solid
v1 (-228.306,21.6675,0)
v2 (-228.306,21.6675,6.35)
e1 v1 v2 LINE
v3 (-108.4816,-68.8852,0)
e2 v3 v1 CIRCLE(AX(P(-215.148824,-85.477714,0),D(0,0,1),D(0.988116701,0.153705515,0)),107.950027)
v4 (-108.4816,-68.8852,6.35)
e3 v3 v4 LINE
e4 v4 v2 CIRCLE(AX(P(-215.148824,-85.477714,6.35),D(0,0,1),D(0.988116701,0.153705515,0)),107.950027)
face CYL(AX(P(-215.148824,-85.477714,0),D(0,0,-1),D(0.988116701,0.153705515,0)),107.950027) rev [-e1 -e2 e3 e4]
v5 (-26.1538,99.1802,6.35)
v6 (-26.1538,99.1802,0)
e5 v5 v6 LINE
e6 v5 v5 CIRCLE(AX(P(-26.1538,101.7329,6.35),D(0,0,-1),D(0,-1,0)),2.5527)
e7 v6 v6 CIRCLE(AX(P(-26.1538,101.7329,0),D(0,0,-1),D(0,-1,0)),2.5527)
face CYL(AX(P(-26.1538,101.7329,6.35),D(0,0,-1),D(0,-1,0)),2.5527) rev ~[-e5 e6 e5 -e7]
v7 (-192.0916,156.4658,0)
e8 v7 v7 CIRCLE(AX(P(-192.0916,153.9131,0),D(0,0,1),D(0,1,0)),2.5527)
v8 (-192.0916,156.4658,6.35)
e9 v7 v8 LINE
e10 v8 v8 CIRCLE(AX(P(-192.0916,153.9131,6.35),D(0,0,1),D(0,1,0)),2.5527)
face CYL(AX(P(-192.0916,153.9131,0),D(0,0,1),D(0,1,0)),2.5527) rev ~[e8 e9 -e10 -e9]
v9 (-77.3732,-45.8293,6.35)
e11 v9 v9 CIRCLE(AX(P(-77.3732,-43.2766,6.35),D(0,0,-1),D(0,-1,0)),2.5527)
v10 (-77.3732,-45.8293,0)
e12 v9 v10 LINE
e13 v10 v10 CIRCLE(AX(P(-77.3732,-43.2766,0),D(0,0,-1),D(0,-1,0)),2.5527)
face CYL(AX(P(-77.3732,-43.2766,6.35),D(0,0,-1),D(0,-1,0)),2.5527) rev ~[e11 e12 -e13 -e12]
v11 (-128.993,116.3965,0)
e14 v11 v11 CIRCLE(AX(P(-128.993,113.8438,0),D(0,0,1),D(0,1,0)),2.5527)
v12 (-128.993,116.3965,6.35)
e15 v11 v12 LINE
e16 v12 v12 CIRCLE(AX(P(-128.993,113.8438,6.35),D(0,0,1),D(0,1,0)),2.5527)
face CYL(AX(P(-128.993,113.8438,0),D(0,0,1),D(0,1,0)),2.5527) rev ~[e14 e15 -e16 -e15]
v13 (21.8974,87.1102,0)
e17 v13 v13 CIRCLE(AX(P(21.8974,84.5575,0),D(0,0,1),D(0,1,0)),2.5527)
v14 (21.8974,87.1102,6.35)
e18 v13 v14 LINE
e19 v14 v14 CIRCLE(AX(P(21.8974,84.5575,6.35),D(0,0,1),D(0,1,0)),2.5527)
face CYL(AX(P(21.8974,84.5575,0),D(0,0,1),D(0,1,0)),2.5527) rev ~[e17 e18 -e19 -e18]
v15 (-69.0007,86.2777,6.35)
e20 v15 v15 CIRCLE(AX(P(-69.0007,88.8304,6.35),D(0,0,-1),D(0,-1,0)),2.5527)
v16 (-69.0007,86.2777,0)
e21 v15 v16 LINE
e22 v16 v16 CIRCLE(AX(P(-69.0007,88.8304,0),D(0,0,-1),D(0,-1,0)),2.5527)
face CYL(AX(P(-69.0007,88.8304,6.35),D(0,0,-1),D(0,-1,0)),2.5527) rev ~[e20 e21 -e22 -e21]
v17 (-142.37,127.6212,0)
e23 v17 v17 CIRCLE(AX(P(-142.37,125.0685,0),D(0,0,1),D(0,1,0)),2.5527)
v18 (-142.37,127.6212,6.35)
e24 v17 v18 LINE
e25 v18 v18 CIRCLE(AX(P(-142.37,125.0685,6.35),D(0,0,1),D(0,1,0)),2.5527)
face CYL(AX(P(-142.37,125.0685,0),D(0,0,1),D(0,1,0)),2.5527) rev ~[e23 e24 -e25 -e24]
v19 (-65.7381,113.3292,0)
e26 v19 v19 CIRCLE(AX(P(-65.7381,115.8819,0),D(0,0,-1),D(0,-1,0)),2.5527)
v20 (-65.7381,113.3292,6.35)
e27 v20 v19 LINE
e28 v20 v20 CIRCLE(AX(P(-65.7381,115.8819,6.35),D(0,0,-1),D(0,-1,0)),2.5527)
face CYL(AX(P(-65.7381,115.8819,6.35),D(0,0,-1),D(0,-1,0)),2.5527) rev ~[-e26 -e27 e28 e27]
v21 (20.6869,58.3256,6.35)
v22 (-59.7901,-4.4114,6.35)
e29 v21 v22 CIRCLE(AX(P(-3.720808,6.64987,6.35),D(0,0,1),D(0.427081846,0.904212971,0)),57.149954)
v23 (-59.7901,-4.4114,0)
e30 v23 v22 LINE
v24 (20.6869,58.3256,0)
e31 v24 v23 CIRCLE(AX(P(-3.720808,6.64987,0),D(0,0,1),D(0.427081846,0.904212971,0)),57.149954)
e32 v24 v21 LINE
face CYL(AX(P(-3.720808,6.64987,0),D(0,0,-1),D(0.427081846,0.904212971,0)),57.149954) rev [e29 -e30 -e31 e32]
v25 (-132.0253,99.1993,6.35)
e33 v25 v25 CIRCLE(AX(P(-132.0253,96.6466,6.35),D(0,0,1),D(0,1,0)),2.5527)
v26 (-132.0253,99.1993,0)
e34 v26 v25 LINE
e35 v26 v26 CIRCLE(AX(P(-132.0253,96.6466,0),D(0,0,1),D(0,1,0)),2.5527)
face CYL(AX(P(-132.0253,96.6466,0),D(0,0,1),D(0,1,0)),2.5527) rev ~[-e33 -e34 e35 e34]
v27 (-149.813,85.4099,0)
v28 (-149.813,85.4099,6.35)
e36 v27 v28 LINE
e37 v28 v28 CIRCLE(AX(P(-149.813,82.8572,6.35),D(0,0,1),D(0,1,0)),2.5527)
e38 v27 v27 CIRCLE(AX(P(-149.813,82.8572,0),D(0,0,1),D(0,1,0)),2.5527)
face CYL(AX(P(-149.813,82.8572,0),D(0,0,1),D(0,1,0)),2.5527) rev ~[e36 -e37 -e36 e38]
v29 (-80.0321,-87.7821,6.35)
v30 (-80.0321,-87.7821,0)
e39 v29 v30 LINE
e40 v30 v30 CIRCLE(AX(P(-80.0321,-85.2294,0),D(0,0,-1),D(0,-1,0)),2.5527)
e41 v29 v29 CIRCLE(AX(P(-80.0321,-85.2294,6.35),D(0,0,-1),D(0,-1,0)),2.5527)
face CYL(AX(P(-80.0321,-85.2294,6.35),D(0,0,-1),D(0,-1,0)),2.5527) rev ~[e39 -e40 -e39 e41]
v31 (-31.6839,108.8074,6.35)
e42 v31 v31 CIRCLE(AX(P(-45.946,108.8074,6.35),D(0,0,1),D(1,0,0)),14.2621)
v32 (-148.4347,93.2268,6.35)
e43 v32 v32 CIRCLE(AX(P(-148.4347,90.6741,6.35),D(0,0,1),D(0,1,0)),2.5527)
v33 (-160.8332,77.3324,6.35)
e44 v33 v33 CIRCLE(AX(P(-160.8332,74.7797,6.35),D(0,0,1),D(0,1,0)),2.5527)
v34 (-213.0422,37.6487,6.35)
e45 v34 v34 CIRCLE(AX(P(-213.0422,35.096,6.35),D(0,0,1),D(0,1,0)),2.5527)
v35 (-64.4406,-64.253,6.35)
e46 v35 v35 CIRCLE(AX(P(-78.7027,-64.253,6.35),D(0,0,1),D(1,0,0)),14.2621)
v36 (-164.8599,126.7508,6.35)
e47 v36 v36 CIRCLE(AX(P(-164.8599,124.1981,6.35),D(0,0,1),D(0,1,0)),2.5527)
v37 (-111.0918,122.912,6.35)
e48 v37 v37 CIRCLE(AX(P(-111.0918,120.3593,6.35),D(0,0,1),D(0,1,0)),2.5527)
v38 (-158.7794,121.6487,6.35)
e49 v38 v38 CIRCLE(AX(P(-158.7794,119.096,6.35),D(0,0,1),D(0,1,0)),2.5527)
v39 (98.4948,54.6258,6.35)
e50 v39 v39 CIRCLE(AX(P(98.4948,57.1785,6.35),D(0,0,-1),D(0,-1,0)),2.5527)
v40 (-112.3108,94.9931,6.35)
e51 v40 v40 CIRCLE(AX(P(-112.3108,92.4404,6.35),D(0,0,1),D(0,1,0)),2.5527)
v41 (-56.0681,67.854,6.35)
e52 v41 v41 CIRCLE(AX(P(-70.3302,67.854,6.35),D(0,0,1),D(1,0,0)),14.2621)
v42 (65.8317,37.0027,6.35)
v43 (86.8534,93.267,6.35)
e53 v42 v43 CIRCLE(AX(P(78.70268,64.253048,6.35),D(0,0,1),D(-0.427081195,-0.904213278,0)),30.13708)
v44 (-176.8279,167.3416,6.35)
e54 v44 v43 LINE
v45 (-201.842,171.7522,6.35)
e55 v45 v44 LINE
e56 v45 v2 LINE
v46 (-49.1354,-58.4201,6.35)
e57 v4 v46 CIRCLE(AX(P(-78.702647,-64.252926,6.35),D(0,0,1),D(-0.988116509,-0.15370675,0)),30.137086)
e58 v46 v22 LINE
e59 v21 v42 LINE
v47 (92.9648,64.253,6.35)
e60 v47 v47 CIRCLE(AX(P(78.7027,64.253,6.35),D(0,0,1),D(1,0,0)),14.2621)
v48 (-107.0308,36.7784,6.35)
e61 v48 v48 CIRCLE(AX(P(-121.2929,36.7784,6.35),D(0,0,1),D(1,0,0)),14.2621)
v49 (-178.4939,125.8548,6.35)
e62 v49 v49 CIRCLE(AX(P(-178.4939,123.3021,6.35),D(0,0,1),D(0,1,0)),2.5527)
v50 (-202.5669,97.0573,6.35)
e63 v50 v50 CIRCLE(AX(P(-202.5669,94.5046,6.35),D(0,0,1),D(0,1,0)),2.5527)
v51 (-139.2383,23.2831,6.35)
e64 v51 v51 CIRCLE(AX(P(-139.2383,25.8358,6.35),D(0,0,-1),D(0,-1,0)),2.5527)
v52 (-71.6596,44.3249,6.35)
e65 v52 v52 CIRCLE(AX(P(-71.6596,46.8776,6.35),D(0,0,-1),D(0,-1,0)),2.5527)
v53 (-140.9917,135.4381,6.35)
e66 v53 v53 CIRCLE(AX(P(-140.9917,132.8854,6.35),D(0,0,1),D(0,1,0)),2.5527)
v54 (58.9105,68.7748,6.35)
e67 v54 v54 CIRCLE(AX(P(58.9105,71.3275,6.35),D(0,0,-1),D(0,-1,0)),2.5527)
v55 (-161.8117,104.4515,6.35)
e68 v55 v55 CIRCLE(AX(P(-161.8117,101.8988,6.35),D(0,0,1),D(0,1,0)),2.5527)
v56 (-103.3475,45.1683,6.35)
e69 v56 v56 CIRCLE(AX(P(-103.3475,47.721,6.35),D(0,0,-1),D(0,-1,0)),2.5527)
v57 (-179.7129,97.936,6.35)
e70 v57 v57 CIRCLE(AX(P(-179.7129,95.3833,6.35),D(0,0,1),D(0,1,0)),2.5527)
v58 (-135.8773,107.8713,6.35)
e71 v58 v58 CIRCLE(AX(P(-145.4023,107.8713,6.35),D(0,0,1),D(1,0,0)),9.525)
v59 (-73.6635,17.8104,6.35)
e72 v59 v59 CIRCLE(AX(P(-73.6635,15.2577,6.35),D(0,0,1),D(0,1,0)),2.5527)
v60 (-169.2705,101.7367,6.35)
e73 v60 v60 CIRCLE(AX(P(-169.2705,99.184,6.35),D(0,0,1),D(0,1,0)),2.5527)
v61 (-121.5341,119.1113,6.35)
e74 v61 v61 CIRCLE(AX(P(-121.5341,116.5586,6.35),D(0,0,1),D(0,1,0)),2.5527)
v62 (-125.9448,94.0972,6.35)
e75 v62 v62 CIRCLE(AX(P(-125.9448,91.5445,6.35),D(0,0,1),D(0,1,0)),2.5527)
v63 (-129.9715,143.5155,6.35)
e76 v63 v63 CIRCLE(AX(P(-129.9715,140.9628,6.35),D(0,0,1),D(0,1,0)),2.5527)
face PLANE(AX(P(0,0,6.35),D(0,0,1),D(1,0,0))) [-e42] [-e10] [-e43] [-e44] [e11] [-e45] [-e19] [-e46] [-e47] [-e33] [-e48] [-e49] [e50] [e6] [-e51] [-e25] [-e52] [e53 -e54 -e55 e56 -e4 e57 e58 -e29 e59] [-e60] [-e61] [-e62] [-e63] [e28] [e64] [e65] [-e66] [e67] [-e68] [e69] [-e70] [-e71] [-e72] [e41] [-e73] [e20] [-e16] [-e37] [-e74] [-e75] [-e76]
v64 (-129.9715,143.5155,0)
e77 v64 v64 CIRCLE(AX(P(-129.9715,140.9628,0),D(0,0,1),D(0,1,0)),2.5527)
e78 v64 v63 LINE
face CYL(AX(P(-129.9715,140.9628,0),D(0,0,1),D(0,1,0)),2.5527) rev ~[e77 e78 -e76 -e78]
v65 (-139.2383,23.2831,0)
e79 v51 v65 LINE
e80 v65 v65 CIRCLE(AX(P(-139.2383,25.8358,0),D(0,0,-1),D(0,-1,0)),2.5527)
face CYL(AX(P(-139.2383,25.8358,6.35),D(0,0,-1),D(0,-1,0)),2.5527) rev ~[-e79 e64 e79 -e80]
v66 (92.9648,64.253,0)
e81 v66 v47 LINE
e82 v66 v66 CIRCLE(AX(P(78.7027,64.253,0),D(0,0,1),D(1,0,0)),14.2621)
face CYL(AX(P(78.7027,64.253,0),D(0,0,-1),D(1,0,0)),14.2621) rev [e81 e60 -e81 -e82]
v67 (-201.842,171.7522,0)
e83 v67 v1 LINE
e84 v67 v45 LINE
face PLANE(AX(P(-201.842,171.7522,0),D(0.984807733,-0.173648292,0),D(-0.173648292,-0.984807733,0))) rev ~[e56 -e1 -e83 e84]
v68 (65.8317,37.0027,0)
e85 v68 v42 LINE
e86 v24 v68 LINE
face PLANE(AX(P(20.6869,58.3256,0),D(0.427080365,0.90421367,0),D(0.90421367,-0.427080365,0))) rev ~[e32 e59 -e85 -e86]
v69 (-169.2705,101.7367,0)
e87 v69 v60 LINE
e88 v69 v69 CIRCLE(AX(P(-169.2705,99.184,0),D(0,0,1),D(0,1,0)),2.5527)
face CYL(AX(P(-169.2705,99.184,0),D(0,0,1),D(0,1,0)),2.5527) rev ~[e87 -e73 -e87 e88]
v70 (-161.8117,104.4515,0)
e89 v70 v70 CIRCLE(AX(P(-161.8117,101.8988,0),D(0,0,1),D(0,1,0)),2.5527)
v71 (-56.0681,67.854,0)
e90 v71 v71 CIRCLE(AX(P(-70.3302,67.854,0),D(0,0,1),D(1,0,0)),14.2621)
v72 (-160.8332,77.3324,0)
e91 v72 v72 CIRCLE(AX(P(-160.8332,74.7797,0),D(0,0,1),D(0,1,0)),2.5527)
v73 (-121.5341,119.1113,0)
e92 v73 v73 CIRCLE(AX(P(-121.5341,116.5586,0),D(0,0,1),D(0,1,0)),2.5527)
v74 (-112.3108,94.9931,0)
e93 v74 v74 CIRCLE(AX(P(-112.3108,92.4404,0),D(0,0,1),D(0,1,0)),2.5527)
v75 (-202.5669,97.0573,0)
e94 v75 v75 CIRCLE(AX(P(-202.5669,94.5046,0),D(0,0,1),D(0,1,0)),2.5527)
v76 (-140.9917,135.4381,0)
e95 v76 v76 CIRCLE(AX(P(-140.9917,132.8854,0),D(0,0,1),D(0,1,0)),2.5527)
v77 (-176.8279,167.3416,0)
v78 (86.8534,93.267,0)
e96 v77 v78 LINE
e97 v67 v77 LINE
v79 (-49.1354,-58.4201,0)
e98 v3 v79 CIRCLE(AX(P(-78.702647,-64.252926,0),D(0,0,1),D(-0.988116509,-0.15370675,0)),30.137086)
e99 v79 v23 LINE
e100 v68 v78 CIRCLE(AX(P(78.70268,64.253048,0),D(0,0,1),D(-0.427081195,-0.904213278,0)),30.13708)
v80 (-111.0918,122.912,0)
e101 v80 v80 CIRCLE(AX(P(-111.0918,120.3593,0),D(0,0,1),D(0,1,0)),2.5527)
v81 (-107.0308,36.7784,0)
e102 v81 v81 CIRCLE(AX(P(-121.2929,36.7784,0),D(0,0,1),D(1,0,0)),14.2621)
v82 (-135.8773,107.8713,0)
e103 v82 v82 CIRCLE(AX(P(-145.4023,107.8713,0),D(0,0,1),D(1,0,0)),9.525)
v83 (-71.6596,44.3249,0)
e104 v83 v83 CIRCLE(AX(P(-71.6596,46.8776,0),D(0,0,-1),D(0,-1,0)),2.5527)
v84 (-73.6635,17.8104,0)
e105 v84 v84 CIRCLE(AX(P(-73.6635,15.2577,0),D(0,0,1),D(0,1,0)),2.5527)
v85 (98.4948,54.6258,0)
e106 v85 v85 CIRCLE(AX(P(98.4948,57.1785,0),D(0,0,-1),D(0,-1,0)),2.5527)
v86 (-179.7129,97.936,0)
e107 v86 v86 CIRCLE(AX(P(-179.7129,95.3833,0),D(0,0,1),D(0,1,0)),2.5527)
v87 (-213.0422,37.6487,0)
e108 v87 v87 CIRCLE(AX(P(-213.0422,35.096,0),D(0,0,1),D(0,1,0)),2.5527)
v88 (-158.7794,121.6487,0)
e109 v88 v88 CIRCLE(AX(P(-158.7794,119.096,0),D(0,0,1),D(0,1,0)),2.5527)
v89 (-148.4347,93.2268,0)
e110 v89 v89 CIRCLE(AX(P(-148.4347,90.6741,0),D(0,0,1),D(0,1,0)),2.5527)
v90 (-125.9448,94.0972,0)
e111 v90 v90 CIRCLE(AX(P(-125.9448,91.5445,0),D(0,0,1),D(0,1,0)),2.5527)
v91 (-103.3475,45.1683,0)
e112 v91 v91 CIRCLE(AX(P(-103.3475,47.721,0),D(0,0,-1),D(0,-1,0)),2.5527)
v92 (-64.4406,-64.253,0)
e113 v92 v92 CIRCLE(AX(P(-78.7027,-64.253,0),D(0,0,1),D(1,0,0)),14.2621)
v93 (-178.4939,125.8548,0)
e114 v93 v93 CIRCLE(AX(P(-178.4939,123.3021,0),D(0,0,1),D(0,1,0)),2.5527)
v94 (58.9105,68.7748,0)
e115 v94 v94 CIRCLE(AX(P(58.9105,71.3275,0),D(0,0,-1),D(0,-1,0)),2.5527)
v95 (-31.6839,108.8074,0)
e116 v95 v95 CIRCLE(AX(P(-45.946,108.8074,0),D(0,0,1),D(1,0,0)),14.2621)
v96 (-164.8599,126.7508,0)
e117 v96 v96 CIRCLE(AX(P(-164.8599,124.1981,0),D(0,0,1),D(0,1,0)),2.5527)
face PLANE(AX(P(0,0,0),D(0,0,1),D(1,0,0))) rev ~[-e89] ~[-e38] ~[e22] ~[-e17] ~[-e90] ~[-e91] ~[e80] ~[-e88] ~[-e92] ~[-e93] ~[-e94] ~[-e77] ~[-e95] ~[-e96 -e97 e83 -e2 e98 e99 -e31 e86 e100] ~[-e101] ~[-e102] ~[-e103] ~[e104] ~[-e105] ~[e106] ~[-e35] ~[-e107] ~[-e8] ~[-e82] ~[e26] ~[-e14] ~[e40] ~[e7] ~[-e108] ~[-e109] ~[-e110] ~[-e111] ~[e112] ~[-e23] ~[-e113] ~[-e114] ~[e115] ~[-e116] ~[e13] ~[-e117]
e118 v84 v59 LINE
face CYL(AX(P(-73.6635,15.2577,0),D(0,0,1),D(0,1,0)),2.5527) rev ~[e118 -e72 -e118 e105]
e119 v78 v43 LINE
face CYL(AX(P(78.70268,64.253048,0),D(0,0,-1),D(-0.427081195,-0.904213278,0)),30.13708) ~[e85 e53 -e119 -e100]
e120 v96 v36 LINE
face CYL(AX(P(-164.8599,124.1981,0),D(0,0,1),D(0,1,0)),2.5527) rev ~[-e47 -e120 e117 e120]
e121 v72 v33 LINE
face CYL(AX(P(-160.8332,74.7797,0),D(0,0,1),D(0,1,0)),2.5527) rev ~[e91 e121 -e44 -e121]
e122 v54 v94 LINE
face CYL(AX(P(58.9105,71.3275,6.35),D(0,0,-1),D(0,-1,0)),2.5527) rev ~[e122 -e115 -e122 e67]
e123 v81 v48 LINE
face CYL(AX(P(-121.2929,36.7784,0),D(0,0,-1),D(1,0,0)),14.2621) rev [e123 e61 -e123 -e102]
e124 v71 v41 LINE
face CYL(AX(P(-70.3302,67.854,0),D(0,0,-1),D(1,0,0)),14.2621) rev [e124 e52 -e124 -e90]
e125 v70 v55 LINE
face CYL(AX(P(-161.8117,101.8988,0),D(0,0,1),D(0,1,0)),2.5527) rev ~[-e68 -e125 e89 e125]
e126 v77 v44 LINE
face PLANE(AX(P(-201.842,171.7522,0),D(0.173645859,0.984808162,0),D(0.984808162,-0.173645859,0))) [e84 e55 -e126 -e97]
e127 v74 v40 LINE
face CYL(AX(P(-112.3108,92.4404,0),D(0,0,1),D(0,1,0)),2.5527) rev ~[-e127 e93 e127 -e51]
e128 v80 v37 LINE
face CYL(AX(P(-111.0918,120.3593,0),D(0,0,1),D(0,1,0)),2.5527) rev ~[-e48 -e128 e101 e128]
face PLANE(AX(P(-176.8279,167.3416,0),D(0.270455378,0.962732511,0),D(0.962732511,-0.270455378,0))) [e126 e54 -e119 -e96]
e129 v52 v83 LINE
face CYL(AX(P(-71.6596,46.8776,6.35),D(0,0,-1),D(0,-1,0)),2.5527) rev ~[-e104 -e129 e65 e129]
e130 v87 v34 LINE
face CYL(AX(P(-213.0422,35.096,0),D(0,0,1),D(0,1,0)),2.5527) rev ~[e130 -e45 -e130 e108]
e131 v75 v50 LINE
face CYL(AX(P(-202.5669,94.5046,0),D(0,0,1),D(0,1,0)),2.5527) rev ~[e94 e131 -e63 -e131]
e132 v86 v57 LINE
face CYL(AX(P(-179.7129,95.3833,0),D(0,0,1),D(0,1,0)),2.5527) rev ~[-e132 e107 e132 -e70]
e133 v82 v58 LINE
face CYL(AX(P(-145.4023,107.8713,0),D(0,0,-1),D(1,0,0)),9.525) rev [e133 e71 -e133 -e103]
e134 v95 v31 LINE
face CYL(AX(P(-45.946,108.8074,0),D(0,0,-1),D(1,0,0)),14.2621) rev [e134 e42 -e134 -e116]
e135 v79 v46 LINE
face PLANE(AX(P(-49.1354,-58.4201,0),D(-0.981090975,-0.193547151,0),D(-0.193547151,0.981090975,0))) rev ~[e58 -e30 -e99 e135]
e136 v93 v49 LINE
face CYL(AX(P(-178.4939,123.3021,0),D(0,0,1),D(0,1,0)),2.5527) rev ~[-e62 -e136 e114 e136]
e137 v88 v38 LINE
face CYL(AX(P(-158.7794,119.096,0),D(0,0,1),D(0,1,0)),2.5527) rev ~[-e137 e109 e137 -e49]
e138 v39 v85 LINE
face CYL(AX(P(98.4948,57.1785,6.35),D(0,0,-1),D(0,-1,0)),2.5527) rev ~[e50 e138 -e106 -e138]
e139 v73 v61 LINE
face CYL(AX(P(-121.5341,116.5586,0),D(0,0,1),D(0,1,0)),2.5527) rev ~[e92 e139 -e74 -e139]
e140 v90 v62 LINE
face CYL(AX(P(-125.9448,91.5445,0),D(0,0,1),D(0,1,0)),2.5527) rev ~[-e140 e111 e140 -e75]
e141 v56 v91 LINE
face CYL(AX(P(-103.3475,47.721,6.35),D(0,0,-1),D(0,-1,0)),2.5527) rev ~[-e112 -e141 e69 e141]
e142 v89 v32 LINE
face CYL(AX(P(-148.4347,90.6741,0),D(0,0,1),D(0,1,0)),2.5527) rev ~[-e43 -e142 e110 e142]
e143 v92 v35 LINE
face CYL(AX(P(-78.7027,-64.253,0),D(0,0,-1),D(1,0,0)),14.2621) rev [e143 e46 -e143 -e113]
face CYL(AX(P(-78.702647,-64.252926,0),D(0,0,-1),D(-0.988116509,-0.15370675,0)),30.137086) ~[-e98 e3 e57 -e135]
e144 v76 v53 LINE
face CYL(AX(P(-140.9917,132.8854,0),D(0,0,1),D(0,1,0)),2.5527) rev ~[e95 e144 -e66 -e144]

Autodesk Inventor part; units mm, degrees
ref_plane "YZ Plane" through (0, 0, 0) normal (1, 0, 0) x (0, 1, 0)
ref_plane "XZ Plane" through (0, 0, 0) normal (0, 1, 0) x (-1, 0, 0)
ref_plane "XY Plane" through (0, 0, 0) normal (0, 0, 1) x (1, 0, 0)
sketch "Sketch1" plane through (0, 0, 0) normal (0, 0, 1) x (1, 0, 0)
  circle A0 centre (78.7027, 64.253) radius 50.8 construction
  circle A1 centre (-78.7027, -64.253) radius 50.8 construction
  circle A2 centre (0, 0) radius 50.8 construction
  line L0 (-39.3513, -32.1265) -> (39.3513, 32.1265) construction
  line L1 (78.7027, 64.253) -> (-78.7027, -64.253) construction
  line L2 (-3.7208, 6.6498) -> (-3.7208, 50.6636) construction
  line L3 (-410.4212, -115.053) -> (454.9708, -115.053) construction
  circle A3 centre (140.9799, -57.903) radius 57.15 construction
  circle A4 centre (78.7027, 64.253) radius 14.2621
  circle A5 centre (-78.7027, -64.253) radius 14.2621
  circle A6 centre (-3.7208, 6.6498) radius 57.15 construction
  circle A7 centre (-78.7027, -64.253) radius 30.1371 construction
  circle A8 centre (78.7027, 64.253) radius 30.1371 construction
  circle A9 centre (-45.946, 108.8074) radius 14.2621
  line L4 (-45.946, 108.8074) -> (78.7027, 64.253) construction
  circle A10 centre (78.7027, 64.253) radius 14.2875 construction
  circle A11 centre (-78.7027, -64.253) radius 14.2875 construction
  circle A12 centre (-70.3302, 67.854) radius 14.2621
  line L5 (-78.7027, -64.253) -> (-70.3302, 67.854) construction
  circle A13 centre (-70.3302, 67.854) radius 23.8316 construction
  circle A14 centre (-45.946, 108.8074) radius 23.8316 construction
  line L6 (20.6869, 58.3256) -> (65.8317, 37.0027)
  line L7 (-49.1354, -58.4201) -> (-59.7901, -4.4114)
  arc A15 (20.6869, 58.3256) -> (-59.7901, -4.4114) centre (-3.7208, 6.6498) ccw
  line L8 (-201.842, 171.7522) -> (-176.8279, 167.3416)
  line L9 (-176.8279, 167.3416) -> (-203.2918, 17.2569) construction
  line L10 (-203.2918, 17.2569) -> (-228.306, 21.6675) construction
  line L11 (-228.306, 21.6675) -> (-201.842, 171.7522) construction
  line L12 (-247.3095, -86.1068) -> (28.2095, -134.6882) construction
  line L13 (-202.9446, 165.4987) -> (190.461, 96.1307) construction
  line L14 (-202.9446, 165.4987) -> (-247.3095, -86.1068) construction
  circle A16 centre (-145.4023, 107.8713) radius 31.75 construction
  line L15 (-71.8375, 44.0702) -> (-75.4896, -13.5547) construction
  circle A17 centre (21.8974, 84.5575) radius 9.525 construction
  line L16 (-189.3349, 169.5469) -> (-215.7989, 19.4622) construction
  line L17 (-192.0916, 153.9131) -> (-213.0422, 35.096) construction
  circle A18 centre (-145.4023, 107.8713) radius 17.4625 construction
  circle A19 centre (-145.4023, 107.8713) radius 9.525
  circle A20 centre (-45.946, 108.8074) radius 30.1816 construction
  line L18 (-201.842, 171.7522) -> (-228.306, 21.6675)
  arc A21 (65.8317, 37.0027) -> (86.8534, 93.267) centre (78.7027, 64.253) ccw
  arc A22 (-108.4816, -68.8852) -> (-49.1354, -58.4201) centre (-78.7027, -64.253) ccw
  line L19 (-145.4023, 107.8713) -> (-128.993, 113.8438) construction
  line L20 (-111.0918, 120.3593) -> (-179.7129, 95.3833) construction
  circle A23 centre (-179.7129, 95.3833) radius 4.7625 construction
  line L21 (0, 0) -> (-3.7208, 6.6498) construction
  circle A24 centre (78.7027, 64.253) radius 28.6512 construction
  line L22 (66.1835, 38.4817) -> (-52.1778, 95.9789) construction
  line L23 (85.3564, 92.1209) -> (-42.6339, 122.6796) construction
  line L24 (-176.8279, 167.3416) -> (86.8534, 93.267)
  line L25 (-145.4023, 107.8713) -> (-121.2929, 36.7784) construction
  circle A25 centre (-121.2929, 36.7784) radius 31.75 construction
  circle A26 centre (-121.2929, 36.7784) radius 14.2621
  line L26 (-70.3302, 67.854) -> (-121.2929, 36.7784) construction
  circle A27 centre (-145.4023, 107.8713) radius 25.4 construction
  arc A28 (-108.4816, -68.8852) -> (-228.306, 21.6675) centre (-215.1488, -85.4777) ccw
  circle A29 centre (-145.4023, 107.8713) radius 36.5125 construction
  line L27 (-178.4939, 123.3021) -> (-145.4023, 107.8713) construction
  point P0 (-73.6635, 15.2577)
  point P1 (-202.5669, 94.5046)
  point P2 (-202.5669, 94.5046)
  point P3 (-142.37, 125.0685)
  point P4 (-158.7794, 119.096)
  point P5 (-161.8117, 101.8988)
  point P6 (-148.4347, 90.6741)
  point P7 (-132.0253, 96.6466)
  point P8 (-121.5341, 116.5586)
  point P9 (-140.9917, 132.8854)
  point P10 (-164.8599, 124.1981)
  point P11 (-169.2705, 99.184)
  point P12 (-149.813, 82.8572)
  point P13 (-125.9448, 91.5445)
  point P14 (-157.8903, 142.1818)
  point P15 (-179.7129, 95.3833)
  point P16 (-132.9143, 73.5608)
  point P17 (-129.9715, 140.9628)
  point P18 (-160.8332, 74.7797)
  point P19 (-112.3108, 92.4404)
  dimension "d7" = 101.6
  dimension "d18" = 47.6631
  dimension "d34" = 34.925
  dimension "d65" = 50.8
  dimension "d3" = 50.772
  dimension "d4" = 0
  dimension "d8" = 101.6
  dimension "d9" = 28.5242
  dimension "d10" = 101.6
  dimension "d11" = 114.3
  dimension "d12" = 114.3
  dimension "d13" = 15.875
  dimension "d14" = 15.875
  dimension "d15" = 132.3721
  dimension "d16" = 28.575
  dimension "d17" = 132.3721
  dimension "d19" = 47.6631
  dimension "d22" = 25.4
  dimension "d23" = 152.4
  dimension "d26" = 255.4869
  dimension "d27" = 63.5
  dimension "d30" = 203.2
  dimension "d31" = 10
  dimension "d32" = 19.05
  dimension "d33" = 120.65
  dimension "d35" = 19.05
  dimension "d36" = 6.35
  dimension "d40" = 360
  dimension "d44" = 9.525
  dimension "d55" = 80
  dimension "d56" = 7.62
  dimension "d58" = 57.3024
  dimension "d59" = 63.5
  dimension "d60" = 75.0697
  dimension "d61" = 59.69
  dimension "d62" = 55
  dimension "d68" = 360
  dimension "d70" = 41.275
  dimension "d71" = 60
  dimension "d82" = 360
  dimension "d87" = 360
  dimension "d89" = 45
  dimension "d90" = 6.35
  dimension "d91" = 20.955
  dimension "d92" = 107.95
extrude "Extrusion1" add sketch "Sketch1" along normal blind 6.35
hole "Hole1" at (21.8974, 84.5575, 0) at (-192.0916, 153.9131, 0) at (-202.5669, 94.5046, 0) at (-213.0422, 35.096, 0) at (-128.993, 113.8438, 0) at (-142.37, 125.0685, 0) at (-158.7794, 119.096, 0) at (-161.8117, 101.8988, 0) at (-148.4347, 90.6741, 0) at (-132.0253, 96.6466, 0) at (-111.0918, 120.3593, 0) at (-179.7129, 95.3833, 0) at (-149.813, 82.8572, 0) at (-169.2705, 99.184, 0) at (-164.8599, 124.1981, 0) at (-140.9917, 132.8854, 0) at (-121.5341, 116.5586, 0) at (-125.9448, 91.5445, 0) at (-73.6635, 15.2577, 0) at (-178.4939, 123.3021, 0) at (-129.9715, 140.9628, 0) at (-112.3108, 92.4404, 0) at (-160.8332, 74.7797, 0) direction (0, 0, 1) diameter 5.1054 end through all clearance for "Flat Head Machine Screw (82)" size "#10" standard "Ansi Unified Screw Threads"
sketch "Sketch2" plane through (0, 0, 6.35) normal (0, 0, 1) x (1, 0, 0)
  circle A0 centre (-125.9448, 91.5445) radius 2.5527 construction
  circle A1 centre (-140.9917, 132.8854) radius 2.5527 construction
  circle A2 centre (-169.2705, 99.184) radius 2.5527 construction
  circle A3 centre (-179.7129, 95.3833) radius 2.5527 construction
  circle A4 centre (-132.0253, 96.6466) radius 2.5527 construction
  circle A5 centre (-161.8117, 101.8988) radius 2.5527 construction
  circle A6 centre (-142.37, 125.0685) radius 2.5527 construction
  circle A7 centre (-213.0422, 35.096) radius 2.5527 construction
  circle A8 centre (-192.0916, 153.9131) radius 2.5527 construction
  circle A9 centre (21.8974, 84.5575) radius 2.5527 construction
  circle A10 centre (-202.5669, 94.5046) radius 2.5527 construction
  circle A11 centre (-128.993, 113.8438) radius 2.5527 construction
  circle A12 centre (-158.7794, 119.096) radius 2.5527 construction
  circle A13 centre (-148.4347, 90.6741) radius 2.5527 construction
  circle A14 centre (-111.0918, 120.3593) radius 2.5527 construction
  circle A15 centre (-149.813, 82.8572) radius 2.5527 construction
  circle A16 centre (-164.8599, 124.1981) radius 2.5527 construction
  circle A17 centre (-121.5341, 116.5586) radius 2.5527 construction
  circle A18 centre (-73.6635, 15.2577) radius 2.5527 construction
  line L0 (-49.1354, -58.4201) -> (-59.7901, -4.4114) construction
  arc A19 (20.6869, 58.3256) -> (-59.7901, -4.4114) centre (-3.7208, 6.6498) ccw construction
  line L1 (20.6869, 58.3256) -> (65.8317, 37.0027) construction
  arc A20 (65.8317, 37.0027) -> (86.8534, 93.267) centre (78.7027, 64.253) ccw construction
  line L2 (86.8534, 93.267) -> (-176.8279, 167.3416) construction
  line L3 (-176.8279, 167.3416) -> (-201.842, 171.7522) construction
  line L4 (-201.842, 171.7522) -> (-228.306, 21.6675) construction
  arc A21 (-108.4816, -68.8852) -> (-228.306, 21.6675) centre (-215.1488, -85.4777) ccw construction
  arc A22 (-108.4816, -68.8852) -> (-49.1354, -58.4201) centre (-78.7027, -64.253) ccw construction
  circle A23 centre (-70.3302, 67.854) radius 14.2621 construction
  circle A24 centre (-145.4023, 107.8713) radius 9.525 construction
  circle A25 centre (-121.2929, 36.7784) radius 14.2621 construction
  circle A26 centre (-45.946, 108.8074) radius 14.2621 construction
  circle A27 centre (-78.7027, -64.253) radius 14.2621 construction
  circle A28 centre (78.7027, 64.253) radius 14.2621 construction
  line L5 (-77.3732, -43.2766) -> (-80.0321, -85.2294) construction
  line L6 (-139.2383, 25.8358) -> (-103.3475, 47.721) construction
  line L7 (-69.0007, 88.8304) -> (-71.6596, 46.8776) construction
  line L8 (-65.7381, 115.8819) -> (-26.1538, 101.7329) construction
  line L9 (58.9105, 71.3275) -> (98.4948, 57.1785) construction
  circle A29 centre (-70.3302, 67.854) radius 14.2621 construction
  line L10 (-45.946, 108.8074) -> (-70.3302, 67.854) construction
  line L11 (-45.946, 108.8074) -> (78.7027, 64.253) construction
  line L12 (-70.3302, 67.854) -> (-121.2929, 36.7784) construction
  line L13 (-70.3302, 67.854) -> (-78.7027, -64.253) construction
  circle A30 centre (-112.3108, 92.4404) radius 2.5527 projected
  point P0 (0, 0)
  point P1 (-116.0598, 70.5176)
  point P2 (-113.1961, 73.3575)
  dimension "d72" = 42.037
hole "Hole2" at (-77.3732, -43.2766, 6.35) at (-103.3475, 47.721, 6.35) at (-80.0321, -85.2294, 6.35) at (-139.2383, 25.8358, 6.35) at (-71.6596, 46.8776, 6.35) at (-69.0007, 88.8304, 6.35) at (-26.1538, 101.7329, 6.35) at (-65.7381, 115.8819, 6.35) at (98.4948, 57.1785, 6.35) at (58.9105, 71.3275, 6.35) direction (0, 0, -1) diameter 5.1054 end through all clearance for "Flat Head Machine Screw (82)" size "#10" standard "Ansi Unified Screw Threads"
properties part number "GP7-001" material "Polycarbonate, Smoke"
